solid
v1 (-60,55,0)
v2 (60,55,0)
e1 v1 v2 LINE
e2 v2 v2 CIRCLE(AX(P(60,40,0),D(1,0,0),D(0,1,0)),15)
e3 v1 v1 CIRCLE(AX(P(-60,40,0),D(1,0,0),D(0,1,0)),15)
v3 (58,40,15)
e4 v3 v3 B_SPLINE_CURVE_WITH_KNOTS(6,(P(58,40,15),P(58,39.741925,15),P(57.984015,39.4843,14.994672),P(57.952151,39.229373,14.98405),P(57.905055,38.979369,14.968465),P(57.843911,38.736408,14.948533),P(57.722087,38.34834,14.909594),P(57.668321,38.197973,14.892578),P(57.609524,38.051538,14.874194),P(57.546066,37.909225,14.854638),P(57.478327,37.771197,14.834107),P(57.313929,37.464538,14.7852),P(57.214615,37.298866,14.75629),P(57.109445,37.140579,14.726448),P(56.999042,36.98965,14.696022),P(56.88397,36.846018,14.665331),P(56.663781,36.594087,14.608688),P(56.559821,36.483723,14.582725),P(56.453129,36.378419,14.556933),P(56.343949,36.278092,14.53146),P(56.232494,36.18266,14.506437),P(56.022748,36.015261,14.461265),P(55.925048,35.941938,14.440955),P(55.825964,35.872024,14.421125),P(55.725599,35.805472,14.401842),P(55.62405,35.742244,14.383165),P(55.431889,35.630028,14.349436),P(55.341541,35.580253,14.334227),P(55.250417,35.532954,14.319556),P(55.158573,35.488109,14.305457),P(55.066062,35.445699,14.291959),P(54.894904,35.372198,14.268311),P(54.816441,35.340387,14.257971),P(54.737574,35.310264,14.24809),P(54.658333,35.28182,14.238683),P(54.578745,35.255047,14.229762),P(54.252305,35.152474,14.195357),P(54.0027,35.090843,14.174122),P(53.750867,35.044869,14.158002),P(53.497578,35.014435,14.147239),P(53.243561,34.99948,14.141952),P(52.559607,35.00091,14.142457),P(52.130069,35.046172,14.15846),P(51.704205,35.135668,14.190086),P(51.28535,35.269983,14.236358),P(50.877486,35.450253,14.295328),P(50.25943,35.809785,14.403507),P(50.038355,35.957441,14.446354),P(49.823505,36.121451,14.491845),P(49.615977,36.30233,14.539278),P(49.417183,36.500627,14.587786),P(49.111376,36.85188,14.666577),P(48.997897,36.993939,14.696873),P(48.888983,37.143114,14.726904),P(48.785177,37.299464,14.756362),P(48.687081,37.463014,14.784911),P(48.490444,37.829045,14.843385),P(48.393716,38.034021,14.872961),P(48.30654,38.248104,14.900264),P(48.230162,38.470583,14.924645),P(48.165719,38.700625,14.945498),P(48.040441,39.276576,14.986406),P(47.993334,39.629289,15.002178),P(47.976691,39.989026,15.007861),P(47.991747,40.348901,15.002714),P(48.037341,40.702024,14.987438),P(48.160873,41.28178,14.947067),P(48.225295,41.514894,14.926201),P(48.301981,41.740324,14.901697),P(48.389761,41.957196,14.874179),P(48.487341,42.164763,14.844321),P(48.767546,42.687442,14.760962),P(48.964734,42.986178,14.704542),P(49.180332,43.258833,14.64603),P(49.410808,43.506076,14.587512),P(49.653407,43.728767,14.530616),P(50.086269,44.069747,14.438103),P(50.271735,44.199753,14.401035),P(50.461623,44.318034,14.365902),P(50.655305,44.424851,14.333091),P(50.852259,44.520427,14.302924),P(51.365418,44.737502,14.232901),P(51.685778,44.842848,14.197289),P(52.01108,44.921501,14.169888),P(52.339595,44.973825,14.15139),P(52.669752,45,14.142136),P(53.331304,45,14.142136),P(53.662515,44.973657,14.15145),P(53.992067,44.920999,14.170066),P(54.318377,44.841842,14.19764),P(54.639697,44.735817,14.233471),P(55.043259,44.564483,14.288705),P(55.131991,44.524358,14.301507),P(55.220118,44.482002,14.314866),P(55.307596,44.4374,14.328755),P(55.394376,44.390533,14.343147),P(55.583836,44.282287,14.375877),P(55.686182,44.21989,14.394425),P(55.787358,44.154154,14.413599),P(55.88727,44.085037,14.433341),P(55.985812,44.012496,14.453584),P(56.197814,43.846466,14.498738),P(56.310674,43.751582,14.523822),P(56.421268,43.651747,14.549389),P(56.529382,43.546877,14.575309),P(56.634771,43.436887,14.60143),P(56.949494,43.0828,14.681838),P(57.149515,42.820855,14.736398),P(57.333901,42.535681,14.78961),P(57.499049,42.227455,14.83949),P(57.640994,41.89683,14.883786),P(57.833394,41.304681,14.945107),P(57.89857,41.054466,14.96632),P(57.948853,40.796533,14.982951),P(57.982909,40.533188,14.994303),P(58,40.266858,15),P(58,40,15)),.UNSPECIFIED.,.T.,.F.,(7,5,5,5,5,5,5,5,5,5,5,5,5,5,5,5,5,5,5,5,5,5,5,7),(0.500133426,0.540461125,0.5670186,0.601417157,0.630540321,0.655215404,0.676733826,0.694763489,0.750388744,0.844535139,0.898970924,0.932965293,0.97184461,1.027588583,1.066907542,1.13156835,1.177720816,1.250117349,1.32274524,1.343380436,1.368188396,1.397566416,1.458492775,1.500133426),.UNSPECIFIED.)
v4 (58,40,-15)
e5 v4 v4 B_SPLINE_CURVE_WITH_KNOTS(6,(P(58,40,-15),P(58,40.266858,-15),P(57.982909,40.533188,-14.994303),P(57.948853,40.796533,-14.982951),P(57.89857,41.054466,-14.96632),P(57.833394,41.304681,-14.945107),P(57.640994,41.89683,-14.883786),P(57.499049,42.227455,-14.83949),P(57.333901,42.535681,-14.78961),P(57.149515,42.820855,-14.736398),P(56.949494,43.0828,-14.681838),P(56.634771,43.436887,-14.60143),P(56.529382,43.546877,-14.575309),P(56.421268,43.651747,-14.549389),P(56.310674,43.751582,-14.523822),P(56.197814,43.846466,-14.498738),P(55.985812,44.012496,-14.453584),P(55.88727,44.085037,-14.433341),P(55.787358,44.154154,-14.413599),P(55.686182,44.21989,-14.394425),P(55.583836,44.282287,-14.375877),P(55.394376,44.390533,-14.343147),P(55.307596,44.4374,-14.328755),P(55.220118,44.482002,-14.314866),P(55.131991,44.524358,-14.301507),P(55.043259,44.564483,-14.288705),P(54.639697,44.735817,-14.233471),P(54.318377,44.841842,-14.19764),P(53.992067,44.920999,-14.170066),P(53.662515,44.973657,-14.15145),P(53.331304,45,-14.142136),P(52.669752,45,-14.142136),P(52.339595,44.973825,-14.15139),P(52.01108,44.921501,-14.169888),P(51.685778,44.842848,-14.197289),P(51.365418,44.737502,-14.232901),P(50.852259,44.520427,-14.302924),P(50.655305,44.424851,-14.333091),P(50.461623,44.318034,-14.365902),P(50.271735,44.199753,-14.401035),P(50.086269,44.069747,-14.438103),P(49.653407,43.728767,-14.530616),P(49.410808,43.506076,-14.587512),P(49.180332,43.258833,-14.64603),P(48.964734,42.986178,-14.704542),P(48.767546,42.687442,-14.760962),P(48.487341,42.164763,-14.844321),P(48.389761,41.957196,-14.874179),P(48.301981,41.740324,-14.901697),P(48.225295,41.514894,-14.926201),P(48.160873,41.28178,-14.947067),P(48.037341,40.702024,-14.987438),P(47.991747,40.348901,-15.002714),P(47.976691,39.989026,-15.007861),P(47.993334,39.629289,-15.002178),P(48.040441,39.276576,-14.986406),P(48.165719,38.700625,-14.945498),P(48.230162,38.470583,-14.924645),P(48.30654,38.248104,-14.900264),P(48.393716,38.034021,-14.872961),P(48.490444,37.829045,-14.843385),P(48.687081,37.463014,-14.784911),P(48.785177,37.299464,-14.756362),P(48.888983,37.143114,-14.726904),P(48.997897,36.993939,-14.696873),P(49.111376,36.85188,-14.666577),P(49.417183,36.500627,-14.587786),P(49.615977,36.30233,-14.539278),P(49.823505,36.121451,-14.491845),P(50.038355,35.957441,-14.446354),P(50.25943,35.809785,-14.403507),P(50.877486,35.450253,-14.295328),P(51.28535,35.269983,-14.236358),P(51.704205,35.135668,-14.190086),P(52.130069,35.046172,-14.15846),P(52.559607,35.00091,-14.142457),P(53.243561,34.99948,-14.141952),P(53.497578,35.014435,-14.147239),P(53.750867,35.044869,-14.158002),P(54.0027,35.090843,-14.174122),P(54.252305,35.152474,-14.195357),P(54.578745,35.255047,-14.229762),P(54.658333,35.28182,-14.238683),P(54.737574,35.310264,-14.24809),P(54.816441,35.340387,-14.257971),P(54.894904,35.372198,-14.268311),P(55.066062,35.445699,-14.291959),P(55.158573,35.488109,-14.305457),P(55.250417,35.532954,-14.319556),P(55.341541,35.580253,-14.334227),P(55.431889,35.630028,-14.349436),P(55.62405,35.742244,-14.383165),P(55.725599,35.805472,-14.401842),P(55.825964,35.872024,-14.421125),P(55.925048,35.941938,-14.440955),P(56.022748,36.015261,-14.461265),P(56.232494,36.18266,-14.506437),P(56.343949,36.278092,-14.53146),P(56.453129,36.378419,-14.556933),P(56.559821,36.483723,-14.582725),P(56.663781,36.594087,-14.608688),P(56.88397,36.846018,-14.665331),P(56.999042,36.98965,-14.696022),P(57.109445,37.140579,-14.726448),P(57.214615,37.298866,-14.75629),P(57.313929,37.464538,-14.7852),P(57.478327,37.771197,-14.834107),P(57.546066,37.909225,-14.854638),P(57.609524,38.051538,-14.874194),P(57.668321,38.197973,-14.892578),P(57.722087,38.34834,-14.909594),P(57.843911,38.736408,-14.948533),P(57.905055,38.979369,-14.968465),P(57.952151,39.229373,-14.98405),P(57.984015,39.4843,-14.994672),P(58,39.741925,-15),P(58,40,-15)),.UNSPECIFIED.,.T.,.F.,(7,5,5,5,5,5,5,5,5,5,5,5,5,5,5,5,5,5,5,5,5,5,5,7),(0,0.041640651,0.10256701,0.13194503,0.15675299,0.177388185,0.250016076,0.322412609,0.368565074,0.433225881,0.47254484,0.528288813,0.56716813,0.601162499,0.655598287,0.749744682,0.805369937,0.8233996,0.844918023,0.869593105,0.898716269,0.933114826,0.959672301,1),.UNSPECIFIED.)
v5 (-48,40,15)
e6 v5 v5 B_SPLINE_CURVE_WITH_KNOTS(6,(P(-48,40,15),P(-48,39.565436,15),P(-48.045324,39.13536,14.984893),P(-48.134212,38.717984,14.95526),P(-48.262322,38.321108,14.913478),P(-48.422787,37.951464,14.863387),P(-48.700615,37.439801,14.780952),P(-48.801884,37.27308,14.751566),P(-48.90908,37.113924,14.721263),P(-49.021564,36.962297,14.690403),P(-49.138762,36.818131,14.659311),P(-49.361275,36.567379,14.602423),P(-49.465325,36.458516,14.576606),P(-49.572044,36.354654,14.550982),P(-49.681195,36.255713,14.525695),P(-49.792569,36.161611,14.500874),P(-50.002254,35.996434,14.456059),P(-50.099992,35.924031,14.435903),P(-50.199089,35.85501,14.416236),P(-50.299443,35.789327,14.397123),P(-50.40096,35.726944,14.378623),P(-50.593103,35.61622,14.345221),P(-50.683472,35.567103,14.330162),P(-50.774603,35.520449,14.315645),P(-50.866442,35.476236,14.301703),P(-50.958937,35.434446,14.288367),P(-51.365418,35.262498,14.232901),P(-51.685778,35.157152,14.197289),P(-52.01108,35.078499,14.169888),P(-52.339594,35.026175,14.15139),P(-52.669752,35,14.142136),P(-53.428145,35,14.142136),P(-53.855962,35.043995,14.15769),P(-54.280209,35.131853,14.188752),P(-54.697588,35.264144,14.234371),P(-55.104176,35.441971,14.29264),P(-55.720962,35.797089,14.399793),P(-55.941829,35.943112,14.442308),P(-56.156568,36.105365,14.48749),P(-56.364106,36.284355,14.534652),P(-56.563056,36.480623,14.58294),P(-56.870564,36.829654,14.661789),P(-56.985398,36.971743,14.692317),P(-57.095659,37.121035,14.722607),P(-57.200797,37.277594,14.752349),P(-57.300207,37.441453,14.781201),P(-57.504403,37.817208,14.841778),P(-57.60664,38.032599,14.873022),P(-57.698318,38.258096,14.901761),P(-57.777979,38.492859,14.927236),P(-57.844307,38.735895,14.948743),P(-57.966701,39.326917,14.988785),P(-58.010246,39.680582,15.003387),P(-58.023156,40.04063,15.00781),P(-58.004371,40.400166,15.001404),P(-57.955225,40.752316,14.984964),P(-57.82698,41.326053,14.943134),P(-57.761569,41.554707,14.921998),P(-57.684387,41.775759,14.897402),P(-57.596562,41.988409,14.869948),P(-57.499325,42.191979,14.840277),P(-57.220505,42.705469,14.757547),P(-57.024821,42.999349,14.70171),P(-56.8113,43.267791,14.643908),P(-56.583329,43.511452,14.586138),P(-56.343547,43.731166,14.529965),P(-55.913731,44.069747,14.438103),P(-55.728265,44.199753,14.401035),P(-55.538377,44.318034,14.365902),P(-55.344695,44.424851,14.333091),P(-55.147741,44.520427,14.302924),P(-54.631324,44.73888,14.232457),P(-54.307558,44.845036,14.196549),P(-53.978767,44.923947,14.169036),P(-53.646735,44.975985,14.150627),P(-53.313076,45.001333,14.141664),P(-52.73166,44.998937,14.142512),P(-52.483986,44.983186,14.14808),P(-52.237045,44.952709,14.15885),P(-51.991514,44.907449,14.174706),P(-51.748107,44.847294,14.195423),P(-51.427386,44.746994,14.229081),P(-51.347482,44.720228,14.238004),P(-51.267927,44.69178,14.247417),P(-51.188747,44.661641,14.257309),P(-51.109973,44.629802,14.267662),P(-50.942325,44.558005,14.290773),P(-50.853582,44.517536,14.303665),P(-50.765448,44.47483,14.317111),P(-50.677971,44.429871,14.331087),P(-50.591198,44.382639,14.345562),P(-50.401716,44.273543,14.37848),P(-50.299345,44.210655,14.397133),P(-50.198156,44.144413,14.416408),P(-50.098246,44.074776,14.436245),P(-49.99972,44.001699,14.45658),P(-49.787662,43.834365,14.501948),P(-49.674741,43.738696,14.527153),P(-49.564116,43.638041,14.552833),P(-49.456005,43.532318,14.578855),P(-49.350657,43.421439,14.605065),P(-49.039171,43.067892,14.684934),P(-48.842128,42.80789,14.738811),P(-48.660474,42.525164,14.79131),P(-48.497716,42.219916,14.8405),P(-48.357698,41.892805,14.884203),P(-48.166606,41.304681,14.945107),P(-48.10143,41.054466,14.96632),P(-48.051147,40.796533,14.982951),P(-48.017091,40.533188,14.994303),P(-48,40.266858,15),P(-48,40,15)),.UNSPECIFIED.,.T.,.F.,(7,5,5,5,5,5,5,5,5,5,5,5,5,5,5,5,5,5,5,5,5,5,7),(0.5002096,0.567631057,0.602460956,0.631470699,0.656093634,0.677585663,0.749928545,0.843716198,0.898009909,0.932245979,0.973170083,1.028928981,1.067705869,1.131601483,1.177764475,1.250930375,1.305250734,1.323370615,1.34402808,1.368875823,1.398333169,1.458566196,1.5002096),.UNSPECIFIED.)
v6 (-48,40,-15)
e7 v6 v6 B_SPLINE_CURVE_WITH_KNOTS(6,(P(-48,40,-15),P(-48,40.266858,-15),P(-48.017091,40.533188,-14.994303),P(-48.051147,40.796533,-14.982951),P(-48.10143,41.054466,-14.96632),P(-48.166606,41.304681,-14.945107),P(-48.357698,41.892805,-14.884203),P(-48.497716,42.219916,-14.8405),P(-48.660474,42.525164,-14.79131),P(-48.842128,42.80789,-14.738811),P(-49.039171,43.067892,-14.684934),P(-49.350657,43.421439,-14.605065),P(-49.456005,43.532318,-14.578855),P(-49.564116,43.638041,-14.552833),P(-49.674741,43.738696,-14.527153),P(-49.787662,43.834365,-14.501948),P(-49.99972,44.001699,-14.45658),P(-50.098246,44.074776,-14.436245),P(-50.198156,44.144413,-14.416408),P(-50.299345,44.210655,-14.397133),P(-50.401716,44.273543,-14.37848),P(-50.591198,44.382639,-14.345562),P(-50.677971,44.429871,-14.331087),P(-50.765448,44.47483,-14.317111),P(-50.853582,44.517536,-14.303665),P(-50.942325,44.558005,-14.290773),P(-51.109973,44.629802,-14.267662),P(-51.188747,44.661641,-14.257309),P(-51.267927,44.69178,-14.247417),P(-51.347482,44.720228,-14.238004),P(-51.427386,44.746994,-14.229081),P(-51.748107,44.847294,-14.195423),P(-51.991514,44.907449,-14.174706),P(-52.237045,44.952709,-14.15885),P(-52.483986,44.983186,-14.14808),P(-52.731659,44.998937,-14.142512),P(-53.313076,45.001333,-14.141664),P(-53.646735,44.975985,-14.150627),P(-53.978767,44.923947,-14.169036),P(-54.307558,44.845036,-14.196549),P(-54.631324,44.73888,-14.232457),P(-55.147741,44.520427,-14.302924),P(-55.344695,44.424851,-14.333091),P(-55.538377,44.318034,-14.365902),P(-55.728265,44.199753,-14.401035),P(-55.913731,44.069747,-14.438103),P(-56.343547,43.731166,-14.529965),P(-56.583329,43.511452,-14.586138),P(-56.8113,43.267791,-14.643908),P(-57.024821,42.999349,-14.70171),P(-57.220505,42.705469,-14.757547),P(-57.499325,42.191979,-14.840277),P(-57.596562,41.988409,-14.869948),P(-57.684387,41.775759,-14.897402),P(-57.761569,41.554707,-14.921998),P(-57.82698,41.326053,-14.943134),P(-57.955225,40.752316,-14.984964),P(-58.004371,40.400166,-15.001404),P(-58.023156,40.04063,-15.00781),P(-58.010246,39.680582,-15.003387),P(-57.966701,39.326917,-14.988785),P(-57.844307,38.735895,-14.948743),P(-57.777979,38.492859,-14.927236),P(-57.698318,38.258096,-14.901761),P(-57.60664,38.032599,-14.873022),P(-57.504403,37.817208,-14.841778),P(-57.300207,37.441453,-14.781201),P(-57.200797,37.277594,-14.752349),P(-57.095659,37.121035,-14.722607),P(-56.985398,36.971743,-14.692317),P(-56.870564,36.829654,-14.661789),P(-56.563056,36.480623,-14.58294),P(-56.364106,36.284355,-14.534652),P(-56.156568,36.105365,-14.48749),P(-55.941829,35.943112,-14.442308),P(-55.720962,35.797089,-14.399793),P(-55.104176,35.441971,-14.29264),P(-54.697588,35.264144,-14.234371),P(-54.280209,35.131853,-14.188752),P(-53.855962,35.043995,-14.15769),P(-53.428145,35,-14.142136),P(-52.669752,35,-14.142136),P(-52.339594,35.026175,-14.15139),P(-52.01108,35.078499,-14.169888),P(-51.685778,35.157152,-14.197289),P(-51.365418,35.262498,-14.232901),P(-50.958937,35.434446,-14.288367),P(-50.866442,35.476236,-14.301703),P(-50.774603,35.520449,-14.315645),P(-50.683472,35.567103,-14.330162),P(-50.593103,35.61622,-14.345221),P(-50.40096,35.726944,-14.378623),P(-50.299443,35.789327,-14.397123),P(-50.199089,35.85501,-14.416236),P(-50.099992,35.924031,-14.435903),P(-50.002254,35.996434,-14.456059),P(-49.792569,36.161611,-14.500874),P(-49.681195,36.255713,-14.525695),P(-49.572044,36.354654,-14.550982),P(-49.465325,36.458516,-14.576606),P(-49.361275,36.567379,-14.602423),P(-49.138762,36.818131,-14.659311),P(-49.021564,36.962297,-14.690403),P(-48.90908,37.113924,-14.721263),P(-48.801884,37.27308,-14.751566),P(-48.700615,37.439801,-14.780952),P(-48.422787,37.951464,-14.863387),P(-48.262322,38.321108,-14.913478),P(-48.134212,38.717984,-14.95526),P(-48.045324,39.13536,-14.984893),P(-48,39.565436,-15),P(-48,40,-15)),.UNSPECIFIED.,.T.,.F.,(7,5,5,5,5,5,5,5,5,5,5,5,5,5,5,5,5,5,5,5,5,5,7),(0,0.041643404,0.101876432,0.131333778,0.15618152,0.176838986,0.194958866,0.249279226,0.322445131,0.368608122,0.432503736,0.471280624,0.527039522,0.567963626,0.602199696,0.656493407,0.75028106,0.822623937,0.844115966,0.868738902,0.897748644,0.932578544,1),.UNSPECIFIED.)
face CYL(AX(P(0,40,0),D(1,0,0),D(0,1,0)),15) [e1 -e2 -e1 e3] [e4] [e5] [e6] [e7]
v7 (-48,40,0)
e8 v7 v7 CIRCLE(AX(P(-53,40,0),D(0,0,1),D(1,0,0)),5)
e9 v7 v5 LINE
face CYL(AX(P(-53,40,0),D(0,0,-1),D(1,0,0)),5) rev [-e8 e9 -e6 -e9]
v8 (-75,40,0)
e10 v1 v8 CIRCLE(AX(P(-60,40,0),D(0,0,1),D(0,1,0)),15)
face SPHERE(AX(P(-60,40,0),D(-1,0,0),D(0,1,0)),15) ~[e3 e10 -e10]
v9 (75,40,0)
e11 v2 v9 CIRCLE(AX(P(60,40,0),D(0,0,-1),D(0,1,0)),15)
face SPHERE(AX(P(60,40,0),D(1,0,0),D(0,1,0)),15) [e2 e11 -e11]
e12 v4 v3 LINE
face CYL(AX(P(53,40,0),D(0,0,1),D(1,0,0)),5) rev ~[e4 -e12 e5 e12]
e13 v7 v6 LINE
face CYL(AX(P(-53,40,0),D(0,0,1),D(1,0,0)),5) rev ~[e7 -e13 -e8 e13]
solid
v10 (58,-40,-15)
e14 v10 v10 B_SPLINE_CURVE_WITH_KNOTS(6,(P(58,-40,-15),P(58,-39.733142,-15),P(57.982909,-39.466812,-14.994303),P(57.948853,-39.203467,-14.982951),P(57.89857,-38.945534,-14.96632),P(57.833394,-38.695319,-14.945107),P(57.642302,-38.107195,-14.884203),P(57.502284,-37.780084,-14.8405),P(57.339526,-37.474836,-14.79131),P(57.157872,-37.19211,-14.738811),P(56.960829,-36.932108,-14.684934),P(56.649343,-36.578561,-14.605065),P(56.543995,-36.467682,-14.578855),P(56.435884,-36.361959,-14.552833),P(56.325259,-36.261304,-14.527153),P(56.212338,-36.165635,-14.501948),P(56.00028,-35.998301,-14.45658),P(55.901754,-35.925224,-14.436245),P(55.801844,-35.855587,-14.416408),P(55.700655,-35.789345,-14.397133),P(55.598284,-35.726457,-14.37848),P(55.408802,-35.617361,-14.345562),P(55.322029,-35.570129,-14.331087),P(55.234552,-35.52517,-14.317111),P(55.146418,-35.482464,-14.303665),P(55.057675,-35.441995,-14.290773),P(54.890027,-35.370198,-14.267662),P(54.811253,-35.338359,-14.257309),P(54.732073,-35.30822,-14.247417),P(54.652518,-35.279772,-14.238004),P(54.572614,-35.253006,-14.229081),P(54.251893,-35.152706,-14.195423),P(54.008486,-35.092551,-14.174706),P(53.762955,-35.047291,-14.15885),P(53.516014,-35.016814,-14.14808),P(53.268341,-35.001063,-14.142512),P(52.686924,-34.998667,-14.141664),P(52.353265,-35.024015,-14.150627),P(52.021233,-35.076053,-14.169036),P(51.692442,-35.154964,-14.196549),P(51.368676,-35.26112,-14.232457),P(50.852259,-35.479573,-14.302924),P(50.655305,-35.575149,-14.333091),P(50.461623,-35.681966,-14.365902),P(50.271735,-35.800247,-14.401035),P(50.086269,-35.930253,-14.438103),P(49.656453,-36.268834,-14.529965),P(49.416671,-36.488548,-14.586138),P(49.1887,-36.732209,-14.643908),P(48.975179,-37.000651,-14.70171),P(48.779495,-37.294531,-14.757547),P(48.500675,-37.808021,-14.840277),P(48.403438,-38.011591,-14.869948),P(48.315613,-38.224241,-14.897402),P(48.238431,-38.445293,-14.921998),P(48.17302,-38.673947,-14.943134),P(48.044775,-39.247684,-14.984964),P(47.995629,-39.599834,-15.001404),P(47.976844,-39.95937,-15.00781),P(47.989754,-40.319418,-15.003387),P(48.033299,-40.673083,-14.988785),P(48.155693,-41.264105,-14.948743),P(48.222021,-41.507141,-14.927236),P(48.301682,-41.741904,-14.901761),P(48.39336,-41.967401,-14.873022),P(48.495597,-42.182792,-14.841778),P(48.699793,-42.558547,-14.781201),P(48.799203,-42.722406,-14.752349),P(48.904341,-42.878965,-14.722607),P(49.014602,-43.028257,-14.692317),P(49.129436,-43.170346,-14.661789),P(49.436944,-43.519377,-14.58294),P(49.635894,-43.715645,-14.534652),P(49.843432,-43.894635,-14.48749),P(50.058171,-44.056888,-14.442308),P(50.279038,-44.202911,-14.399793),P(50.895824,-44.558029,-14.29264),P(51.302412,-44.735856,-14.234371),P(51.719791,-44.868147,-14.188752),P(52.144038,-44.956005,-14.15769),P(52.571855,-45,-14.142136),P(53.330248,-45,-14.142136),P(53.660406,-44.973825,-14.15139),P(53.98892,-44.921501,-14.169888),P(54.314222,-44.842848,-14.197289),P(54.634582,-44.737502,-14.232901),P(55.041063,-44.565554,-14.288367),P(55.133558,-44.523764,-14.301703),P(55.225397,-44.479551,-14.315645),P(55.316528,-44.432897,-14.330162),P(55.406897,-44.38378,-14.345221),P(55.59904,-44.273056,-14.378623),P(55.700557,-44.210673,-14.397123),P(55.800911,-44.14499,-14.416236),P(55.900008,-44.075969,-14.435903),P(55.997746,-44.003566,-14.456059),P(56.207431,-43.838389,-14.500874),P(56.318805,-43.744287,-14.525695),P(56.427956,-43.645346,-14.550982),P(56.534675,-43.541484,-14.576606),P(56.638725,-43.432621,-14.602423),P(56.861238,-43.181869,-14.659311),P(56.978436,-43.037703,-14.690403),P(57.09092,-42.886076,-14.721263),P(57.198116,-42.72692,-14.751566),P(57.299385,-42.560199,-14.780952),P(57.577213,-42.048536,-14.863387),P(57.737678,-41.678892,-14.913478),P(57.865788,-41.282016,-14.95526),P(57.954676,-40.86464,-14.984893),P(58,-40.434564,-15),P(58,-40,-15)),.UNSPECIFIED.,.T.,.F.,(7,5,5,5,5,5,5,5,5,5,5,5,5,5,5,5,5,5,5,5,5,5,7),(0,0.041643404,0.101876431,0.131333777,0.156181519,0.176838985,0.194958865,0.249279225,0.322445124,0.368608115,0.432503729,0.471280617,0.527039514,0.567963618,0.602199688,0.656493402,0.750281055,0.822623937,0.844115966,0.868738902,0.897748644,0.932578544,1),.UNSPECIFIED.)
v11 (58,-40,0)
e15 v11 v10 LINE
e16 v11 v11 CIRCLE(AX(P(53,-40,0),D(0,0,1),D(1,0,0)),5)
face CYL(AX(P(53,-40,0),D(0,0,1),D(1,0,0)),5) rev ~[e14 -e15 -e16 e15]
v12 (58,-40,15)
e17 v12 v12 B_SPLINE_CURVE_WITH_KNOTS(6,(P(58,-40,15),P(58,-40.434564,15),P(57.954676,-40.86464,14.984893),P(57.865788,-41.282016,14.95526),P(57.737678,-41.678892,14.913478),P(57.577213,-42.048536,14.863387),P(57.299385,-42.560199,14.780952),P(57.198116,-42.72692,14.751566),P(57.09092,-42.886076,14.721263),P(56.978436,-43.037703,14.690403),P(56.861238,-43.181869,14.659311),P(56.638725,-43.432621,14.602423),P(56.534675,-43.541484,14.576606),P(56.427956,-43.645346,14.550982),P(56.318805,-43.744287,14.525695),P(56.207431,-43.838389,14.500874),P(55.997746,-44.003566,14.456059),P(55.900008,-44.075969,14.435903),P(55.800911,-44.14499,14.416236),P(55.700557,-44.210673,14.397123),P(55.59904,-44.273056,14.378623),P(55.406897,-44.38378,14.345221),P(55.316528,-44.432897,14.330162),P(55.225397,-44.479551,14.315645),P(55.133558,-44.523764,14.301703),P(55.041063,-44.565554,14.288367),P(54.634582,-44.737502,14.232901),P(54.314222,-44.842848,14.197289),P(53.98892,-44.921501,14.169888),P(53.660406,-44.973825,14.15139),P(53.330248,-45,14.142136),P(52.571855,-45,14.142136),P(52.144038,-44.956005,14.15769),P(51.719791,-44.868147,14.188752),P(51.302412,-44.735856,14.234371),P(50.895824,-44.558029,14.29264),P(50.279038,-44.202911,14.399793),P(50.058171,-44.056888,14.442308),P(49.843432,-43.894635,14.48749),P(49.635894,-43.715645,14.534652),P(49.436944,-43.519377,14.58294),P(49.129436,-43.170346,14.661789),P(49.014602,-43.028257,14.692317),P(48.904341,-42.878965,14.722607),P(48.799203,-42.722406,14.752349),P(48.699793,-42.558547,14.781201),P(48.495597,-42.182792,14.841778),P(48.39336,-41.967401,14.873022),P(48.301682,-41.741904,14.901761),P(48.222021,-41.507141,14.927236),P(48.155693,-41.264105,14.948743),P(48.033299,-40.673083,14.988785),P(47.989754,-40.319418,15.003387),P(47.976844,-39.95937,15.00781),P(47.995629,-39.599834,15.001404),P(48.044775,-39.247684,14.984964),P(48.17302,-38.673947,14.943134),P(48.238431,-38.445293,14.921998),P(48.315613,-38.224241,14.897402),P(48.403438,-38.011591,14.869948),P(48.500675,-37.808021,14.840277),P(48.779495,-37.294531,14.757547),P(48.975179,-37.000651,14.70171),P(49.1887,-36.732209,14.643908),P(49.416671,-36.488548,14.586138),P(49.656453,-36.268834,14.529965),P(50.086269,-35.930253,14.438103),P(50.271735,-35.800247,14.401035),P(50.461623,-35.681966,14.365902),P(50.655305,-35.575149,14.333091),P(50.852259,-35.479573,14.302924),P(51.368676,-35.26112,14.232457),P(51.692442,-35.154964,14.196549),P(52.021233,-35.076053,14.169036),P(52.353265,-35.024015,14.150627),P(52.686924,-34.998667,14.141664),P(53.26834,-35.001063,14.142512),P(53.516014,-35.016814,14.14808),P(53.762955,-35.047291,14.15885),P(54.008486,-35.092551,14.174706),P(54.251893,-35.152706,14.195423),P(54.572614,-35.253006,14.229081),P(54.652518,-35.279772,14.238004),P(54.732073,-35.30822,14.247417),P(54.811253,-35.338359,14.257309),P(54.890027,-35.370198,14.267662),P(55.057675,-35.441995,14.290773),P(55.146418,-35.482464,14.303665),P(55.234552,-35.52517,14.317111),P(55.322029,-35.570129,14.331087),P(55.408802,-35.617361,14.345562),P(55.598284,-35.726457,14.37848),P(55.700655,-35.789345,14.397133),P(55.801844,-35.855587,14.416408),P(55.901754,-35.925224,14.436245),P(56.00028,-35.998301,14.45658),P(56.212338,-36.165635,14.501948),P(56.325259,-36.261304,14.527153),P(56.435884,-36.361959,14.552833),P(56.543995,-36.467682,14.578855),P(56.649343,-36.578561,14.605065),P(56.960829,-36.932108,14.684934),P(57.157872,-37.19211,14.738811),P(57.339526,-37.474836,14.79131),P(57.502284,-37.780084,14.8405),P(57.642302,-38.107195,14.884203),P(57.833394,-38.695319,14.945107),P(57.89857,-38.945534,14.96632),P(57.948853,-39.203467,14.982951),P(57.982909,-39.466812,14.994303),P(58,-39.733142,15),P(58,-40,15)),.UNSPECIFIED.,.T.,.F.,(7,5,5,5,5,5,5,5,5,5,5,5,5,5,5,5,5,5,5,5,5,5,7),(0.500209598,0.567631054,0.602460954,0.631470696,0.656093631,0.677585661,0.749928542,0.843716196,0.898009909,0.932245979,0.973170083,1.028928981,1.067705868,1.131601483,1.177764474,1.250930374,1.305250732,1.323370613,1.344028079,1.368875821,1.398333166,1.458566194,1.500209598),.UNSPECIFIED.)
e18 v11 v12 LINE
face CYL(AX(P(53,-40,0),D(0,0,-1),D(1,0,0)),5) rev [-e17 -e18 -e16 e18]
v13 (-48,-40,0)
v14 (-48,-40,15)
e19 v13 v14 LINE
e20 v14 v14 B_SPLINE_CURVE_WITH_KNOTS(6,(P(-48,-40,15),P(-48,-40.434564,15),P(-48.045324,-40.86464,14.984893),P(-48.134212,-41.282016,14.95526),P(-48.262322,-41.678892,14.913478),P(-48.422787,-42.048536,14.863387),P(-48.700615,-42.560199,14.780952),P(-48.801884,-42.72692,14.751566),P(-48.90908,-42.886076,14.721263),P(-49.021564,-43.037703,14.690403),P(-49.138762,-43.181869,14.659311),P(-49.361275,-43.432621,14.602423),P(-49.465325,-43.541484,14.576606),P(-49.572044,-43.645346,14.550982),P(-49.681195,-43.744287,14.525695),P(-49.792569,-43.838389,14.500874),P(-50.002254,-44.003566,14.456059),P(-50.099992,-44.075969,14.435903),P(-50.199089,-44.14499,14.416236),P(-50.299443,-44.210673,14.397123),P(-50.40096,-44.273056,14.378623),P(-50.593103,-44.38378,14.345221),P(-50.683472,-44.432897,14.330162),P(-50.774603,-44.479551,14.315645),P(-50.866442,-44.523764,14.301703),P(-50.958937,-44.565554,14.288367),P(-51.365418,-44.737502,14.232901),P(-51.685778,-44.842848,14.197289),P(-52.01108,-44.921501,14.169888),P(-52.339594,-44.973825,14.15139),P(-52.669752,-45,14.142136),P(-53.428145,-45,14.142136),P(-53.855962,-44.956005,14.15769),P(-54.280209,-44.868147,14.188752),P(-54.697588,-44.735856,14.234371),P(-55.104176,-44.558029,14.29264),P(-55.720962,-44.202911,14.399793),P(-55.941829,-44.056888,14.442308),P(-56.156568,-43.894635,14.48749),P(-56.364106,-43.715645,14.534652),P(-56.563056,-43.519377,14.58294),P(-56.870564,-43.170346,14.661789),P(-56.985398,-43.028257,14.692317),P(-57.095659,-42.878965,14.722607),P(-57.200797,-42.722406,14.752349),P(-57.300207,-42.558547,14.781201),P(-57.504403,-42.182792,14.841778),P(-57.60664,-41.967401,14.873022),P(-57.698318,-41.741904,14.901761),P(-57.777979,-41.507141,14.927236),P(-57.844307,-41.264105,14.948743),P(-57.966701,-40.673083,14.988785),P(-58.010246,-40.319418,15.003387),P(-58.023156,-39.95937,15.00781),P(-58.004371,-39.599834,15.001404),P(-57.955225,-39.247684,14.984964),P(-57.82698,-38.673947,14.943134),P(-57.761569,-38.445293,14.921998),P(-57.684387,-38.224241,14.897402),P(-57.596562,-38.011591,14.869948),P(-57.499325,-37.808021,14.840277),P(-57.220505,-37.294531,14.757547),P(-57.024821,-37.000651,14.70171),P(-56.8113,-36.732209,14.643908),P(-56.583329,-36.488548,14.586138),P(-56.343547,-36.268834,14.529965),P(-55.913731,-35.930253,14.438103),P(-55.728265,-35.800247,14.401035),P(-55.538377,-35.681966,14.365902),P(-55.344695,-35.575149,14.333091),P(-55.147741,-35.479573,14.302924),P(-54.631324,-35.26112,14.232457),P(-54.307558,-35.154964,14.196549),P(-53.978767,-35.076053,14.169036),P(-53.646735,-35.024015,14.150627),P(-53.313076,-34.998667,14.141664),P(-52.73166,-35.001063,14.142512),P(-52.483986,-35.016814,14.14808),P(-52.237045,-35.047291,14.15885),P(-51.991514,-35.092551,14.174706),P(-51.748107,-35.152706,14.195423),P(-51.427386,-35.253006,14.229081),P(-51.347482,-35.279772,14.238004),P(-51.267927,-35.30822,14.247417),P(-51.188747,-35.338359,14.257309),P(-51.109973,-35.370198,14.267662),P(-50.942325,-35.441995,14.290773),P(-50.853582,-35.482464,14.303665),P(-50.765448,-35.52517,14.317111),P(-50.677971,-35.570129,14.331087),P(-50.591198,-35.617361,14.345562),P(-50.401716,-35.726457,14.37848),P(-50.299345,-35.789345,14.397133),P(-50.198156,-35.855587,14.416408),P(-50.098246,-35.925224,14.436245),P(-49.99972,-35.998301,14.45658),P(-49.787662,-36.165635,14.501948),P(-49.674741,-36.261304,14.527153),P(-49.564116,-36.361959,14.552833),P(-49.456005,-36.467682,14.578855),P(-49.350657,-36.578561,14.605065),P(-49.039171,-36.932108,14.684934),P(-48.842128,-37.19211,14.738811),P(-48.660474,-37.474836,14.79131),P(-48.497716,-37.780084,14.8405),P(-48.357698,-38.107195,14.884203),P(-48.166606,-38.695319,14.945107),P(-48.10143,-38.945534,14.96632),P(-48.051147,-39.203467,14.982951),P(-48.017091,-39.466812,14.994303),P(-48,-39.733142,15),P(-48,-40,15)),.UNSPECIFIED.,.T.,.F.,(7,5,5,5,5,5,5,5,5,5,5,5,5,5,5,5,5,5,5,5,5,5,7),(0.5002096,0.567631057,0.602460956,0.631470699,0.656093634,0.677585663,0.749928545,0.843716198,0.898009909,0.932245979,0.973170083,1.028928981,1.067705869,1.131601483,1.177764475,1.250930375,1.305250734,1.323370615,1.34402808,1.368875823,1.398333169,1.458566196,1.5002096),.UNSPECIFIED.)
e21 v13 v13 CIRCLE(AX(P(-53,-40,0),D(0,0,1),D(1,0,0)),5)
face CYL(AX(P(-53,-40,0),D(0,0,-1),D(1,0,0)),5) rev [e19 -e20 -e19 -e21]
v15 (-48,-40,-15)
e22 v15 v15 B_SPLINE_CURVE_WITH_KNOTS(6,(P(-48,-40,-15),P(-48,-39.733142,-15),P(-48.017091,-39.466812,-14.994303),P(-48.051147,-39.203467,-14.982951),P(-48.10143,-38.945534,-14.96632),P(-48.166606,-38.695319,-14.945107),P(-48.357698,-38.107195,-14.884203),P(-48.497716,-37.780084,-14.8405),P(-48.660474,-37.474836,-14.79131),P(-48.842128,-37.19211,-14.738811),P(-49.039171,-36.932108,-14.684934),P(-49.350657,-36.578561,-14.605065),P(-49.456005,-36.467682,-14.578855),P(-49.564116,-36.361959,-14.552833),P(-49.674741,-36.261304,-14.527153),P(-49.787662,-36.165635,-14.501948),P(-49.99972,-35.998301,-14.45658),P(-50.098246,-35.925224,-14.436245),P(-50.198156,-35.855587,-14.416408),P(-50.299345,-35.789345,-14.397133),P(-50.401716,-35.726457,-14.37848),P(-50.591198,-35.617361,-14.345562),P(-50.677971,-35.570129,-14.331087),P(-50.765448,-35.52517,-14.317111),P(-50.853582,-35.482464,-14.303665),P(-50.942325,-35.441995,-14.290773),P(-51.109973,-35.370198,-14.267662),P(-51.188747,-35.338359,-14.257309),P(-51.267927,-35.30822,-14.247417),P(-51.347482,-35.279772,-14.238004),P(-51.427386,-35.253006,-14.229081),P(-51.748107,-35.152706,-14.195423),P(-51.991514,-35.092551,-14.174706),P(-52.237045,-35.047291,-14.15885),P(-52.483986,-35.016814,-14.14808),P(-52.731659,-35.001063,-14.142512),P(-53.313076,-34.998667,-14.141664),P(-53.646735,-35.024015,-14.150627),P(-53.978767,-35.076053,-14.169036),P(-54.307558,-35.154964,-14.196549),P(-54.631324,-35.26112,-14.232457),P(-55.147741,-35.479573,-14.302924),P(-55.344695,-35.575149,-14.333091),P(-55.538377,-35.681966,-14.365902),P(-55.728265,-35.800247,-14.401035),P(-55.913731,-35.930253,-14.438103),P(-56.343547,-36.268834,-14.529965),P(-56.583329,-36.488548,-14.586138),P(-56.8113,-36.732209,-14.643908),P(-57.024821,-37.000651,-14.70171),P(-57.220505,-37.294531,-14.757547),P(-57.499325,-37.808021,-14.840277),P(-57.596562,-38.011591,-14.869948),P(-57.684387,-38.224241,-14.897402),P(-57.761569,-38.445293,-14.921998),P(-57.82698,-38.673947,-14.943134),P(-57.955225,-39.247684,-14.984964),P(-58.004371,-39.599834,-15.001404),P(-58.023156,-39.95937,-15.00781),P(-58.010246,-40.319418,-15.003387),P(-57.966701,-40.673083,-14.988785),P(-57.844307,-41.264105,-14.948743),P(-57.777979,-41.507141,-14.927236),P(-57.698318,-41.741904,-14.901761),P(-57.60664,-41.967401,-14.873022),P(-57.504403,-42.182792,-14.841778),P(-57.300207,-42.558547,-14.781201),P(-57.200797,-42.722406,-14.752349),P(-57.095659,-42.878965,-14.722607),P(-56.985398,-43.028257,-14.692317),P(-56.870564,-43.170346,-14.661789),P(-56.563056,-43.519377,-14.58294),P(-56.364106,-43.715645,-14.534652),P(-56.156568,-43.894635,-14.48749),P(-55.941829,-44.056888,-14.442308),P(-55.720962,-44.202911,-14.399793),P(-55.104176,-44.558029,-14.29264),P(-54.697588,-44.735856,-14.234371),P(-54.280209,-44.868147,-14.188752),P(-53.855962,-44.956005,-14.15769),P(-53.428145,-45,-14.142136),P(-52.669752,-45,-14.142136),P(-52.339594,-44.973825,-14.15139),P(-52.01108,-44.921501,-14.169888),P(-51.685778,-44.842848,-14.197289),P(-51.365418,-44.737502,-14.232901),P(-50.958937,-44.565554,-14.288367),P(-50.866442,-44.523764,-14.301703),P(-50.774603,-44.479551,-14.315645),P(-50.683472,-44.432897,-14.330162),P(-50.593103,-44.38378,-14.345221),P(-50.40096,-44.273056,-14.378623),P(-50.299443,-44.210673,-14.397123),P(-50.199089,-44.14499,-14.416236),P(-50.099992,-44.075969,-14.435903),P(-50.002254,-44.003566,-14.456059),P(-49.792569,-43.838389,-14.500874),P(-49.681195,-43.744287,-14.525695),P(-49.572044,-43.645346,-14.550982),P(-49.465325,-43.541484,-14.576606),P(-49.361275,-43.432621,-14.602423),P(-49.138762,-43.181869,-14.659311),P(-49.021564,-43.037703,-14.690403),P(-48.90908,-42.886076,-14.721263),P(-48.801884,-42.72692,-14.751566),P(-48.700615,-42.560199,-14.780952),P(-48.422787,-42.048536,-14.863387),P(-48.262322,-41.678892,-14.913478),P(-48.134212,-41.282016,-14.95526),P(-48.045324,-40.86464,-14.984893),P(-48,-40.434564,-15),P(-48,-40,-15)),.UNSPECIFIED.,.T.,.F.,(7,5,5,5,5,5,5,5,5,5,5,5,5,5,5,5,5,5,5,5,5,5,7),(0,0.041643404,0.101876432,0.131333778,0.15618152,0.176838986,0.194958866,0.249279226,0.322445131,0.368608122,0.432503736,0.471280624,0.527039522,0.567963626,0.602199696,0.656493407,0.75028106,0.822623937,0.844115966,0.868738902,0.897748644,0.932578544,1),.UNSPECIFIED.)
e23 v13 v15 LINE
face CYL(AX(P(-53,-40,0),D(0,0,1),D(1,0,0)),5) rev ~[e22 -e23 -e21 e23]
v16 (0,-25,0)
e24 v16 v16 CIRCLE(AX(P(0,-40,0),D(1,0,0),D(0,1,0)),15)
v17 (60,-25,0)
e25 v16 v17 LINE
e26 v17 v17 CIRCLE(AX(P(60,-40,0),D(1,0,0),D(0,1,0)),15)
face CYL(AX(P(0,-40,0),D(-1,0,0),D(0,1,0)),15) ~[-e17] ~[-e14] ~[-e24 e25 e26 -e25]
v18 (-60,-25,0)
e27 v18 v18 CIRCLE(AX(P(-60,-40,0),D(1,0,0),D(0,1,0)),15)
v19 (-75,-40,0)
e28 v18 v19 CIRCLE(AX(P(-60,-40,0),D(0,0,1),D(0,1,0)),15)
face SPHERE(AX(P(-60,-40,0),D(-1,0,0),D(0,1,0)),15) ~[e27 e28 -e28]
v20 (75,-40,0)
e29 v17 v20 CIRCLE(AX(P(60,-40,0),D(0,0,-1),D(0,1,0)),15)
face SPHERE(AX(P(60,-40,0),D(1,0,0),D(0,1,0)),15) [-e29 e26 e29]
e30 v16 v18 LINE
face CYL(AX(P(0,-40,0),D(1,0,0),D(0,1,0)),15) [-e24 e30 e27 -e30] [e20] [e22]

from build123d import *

# Parameters (mm, degrees)
F0_R     = 15
F1_DEPTH = 75
F2_R     = 15
F3_R     = 5
F4_DEPTH = 15


with BuildPart() as f1:
    # F0 (on Right) → F1 (new body, symmetric)
    with BuildSketch(Plane.YZ):
        with Locations((-40, 0)):
            Circle(F0_R)
        with Locations((40, 0)):
            Circle(F0_R)
    extrude(amount=F1_DEPTH, both=True)

    # F2
    f2_edges = [f1.edges().sort_by_distance(p)[0] for p in [
        (75, -55, 0),
        (75, 25, 0),
        (-75, -55, 0),
        (-75, 25, 0),
    ]]
    fillet(f2_edges, radius=F2_R)

    # F3 (on Top) → F4 (cut, symmetric)
    with BuildSketch(Plane.XY):
        with Locations((-53, 40)):
            Circle(F3_R)
        with Locations((-53, -40)):
            Circle(F3_R)
        with Locations((53, -40)):
            Circle(F3_R)
        with Locations((53, 40)):
            Circle(F3_R)
    extrude(amount=F4_DEPTH, both=True, mode=Mode.SUBTRACT)


solid = f1.part
